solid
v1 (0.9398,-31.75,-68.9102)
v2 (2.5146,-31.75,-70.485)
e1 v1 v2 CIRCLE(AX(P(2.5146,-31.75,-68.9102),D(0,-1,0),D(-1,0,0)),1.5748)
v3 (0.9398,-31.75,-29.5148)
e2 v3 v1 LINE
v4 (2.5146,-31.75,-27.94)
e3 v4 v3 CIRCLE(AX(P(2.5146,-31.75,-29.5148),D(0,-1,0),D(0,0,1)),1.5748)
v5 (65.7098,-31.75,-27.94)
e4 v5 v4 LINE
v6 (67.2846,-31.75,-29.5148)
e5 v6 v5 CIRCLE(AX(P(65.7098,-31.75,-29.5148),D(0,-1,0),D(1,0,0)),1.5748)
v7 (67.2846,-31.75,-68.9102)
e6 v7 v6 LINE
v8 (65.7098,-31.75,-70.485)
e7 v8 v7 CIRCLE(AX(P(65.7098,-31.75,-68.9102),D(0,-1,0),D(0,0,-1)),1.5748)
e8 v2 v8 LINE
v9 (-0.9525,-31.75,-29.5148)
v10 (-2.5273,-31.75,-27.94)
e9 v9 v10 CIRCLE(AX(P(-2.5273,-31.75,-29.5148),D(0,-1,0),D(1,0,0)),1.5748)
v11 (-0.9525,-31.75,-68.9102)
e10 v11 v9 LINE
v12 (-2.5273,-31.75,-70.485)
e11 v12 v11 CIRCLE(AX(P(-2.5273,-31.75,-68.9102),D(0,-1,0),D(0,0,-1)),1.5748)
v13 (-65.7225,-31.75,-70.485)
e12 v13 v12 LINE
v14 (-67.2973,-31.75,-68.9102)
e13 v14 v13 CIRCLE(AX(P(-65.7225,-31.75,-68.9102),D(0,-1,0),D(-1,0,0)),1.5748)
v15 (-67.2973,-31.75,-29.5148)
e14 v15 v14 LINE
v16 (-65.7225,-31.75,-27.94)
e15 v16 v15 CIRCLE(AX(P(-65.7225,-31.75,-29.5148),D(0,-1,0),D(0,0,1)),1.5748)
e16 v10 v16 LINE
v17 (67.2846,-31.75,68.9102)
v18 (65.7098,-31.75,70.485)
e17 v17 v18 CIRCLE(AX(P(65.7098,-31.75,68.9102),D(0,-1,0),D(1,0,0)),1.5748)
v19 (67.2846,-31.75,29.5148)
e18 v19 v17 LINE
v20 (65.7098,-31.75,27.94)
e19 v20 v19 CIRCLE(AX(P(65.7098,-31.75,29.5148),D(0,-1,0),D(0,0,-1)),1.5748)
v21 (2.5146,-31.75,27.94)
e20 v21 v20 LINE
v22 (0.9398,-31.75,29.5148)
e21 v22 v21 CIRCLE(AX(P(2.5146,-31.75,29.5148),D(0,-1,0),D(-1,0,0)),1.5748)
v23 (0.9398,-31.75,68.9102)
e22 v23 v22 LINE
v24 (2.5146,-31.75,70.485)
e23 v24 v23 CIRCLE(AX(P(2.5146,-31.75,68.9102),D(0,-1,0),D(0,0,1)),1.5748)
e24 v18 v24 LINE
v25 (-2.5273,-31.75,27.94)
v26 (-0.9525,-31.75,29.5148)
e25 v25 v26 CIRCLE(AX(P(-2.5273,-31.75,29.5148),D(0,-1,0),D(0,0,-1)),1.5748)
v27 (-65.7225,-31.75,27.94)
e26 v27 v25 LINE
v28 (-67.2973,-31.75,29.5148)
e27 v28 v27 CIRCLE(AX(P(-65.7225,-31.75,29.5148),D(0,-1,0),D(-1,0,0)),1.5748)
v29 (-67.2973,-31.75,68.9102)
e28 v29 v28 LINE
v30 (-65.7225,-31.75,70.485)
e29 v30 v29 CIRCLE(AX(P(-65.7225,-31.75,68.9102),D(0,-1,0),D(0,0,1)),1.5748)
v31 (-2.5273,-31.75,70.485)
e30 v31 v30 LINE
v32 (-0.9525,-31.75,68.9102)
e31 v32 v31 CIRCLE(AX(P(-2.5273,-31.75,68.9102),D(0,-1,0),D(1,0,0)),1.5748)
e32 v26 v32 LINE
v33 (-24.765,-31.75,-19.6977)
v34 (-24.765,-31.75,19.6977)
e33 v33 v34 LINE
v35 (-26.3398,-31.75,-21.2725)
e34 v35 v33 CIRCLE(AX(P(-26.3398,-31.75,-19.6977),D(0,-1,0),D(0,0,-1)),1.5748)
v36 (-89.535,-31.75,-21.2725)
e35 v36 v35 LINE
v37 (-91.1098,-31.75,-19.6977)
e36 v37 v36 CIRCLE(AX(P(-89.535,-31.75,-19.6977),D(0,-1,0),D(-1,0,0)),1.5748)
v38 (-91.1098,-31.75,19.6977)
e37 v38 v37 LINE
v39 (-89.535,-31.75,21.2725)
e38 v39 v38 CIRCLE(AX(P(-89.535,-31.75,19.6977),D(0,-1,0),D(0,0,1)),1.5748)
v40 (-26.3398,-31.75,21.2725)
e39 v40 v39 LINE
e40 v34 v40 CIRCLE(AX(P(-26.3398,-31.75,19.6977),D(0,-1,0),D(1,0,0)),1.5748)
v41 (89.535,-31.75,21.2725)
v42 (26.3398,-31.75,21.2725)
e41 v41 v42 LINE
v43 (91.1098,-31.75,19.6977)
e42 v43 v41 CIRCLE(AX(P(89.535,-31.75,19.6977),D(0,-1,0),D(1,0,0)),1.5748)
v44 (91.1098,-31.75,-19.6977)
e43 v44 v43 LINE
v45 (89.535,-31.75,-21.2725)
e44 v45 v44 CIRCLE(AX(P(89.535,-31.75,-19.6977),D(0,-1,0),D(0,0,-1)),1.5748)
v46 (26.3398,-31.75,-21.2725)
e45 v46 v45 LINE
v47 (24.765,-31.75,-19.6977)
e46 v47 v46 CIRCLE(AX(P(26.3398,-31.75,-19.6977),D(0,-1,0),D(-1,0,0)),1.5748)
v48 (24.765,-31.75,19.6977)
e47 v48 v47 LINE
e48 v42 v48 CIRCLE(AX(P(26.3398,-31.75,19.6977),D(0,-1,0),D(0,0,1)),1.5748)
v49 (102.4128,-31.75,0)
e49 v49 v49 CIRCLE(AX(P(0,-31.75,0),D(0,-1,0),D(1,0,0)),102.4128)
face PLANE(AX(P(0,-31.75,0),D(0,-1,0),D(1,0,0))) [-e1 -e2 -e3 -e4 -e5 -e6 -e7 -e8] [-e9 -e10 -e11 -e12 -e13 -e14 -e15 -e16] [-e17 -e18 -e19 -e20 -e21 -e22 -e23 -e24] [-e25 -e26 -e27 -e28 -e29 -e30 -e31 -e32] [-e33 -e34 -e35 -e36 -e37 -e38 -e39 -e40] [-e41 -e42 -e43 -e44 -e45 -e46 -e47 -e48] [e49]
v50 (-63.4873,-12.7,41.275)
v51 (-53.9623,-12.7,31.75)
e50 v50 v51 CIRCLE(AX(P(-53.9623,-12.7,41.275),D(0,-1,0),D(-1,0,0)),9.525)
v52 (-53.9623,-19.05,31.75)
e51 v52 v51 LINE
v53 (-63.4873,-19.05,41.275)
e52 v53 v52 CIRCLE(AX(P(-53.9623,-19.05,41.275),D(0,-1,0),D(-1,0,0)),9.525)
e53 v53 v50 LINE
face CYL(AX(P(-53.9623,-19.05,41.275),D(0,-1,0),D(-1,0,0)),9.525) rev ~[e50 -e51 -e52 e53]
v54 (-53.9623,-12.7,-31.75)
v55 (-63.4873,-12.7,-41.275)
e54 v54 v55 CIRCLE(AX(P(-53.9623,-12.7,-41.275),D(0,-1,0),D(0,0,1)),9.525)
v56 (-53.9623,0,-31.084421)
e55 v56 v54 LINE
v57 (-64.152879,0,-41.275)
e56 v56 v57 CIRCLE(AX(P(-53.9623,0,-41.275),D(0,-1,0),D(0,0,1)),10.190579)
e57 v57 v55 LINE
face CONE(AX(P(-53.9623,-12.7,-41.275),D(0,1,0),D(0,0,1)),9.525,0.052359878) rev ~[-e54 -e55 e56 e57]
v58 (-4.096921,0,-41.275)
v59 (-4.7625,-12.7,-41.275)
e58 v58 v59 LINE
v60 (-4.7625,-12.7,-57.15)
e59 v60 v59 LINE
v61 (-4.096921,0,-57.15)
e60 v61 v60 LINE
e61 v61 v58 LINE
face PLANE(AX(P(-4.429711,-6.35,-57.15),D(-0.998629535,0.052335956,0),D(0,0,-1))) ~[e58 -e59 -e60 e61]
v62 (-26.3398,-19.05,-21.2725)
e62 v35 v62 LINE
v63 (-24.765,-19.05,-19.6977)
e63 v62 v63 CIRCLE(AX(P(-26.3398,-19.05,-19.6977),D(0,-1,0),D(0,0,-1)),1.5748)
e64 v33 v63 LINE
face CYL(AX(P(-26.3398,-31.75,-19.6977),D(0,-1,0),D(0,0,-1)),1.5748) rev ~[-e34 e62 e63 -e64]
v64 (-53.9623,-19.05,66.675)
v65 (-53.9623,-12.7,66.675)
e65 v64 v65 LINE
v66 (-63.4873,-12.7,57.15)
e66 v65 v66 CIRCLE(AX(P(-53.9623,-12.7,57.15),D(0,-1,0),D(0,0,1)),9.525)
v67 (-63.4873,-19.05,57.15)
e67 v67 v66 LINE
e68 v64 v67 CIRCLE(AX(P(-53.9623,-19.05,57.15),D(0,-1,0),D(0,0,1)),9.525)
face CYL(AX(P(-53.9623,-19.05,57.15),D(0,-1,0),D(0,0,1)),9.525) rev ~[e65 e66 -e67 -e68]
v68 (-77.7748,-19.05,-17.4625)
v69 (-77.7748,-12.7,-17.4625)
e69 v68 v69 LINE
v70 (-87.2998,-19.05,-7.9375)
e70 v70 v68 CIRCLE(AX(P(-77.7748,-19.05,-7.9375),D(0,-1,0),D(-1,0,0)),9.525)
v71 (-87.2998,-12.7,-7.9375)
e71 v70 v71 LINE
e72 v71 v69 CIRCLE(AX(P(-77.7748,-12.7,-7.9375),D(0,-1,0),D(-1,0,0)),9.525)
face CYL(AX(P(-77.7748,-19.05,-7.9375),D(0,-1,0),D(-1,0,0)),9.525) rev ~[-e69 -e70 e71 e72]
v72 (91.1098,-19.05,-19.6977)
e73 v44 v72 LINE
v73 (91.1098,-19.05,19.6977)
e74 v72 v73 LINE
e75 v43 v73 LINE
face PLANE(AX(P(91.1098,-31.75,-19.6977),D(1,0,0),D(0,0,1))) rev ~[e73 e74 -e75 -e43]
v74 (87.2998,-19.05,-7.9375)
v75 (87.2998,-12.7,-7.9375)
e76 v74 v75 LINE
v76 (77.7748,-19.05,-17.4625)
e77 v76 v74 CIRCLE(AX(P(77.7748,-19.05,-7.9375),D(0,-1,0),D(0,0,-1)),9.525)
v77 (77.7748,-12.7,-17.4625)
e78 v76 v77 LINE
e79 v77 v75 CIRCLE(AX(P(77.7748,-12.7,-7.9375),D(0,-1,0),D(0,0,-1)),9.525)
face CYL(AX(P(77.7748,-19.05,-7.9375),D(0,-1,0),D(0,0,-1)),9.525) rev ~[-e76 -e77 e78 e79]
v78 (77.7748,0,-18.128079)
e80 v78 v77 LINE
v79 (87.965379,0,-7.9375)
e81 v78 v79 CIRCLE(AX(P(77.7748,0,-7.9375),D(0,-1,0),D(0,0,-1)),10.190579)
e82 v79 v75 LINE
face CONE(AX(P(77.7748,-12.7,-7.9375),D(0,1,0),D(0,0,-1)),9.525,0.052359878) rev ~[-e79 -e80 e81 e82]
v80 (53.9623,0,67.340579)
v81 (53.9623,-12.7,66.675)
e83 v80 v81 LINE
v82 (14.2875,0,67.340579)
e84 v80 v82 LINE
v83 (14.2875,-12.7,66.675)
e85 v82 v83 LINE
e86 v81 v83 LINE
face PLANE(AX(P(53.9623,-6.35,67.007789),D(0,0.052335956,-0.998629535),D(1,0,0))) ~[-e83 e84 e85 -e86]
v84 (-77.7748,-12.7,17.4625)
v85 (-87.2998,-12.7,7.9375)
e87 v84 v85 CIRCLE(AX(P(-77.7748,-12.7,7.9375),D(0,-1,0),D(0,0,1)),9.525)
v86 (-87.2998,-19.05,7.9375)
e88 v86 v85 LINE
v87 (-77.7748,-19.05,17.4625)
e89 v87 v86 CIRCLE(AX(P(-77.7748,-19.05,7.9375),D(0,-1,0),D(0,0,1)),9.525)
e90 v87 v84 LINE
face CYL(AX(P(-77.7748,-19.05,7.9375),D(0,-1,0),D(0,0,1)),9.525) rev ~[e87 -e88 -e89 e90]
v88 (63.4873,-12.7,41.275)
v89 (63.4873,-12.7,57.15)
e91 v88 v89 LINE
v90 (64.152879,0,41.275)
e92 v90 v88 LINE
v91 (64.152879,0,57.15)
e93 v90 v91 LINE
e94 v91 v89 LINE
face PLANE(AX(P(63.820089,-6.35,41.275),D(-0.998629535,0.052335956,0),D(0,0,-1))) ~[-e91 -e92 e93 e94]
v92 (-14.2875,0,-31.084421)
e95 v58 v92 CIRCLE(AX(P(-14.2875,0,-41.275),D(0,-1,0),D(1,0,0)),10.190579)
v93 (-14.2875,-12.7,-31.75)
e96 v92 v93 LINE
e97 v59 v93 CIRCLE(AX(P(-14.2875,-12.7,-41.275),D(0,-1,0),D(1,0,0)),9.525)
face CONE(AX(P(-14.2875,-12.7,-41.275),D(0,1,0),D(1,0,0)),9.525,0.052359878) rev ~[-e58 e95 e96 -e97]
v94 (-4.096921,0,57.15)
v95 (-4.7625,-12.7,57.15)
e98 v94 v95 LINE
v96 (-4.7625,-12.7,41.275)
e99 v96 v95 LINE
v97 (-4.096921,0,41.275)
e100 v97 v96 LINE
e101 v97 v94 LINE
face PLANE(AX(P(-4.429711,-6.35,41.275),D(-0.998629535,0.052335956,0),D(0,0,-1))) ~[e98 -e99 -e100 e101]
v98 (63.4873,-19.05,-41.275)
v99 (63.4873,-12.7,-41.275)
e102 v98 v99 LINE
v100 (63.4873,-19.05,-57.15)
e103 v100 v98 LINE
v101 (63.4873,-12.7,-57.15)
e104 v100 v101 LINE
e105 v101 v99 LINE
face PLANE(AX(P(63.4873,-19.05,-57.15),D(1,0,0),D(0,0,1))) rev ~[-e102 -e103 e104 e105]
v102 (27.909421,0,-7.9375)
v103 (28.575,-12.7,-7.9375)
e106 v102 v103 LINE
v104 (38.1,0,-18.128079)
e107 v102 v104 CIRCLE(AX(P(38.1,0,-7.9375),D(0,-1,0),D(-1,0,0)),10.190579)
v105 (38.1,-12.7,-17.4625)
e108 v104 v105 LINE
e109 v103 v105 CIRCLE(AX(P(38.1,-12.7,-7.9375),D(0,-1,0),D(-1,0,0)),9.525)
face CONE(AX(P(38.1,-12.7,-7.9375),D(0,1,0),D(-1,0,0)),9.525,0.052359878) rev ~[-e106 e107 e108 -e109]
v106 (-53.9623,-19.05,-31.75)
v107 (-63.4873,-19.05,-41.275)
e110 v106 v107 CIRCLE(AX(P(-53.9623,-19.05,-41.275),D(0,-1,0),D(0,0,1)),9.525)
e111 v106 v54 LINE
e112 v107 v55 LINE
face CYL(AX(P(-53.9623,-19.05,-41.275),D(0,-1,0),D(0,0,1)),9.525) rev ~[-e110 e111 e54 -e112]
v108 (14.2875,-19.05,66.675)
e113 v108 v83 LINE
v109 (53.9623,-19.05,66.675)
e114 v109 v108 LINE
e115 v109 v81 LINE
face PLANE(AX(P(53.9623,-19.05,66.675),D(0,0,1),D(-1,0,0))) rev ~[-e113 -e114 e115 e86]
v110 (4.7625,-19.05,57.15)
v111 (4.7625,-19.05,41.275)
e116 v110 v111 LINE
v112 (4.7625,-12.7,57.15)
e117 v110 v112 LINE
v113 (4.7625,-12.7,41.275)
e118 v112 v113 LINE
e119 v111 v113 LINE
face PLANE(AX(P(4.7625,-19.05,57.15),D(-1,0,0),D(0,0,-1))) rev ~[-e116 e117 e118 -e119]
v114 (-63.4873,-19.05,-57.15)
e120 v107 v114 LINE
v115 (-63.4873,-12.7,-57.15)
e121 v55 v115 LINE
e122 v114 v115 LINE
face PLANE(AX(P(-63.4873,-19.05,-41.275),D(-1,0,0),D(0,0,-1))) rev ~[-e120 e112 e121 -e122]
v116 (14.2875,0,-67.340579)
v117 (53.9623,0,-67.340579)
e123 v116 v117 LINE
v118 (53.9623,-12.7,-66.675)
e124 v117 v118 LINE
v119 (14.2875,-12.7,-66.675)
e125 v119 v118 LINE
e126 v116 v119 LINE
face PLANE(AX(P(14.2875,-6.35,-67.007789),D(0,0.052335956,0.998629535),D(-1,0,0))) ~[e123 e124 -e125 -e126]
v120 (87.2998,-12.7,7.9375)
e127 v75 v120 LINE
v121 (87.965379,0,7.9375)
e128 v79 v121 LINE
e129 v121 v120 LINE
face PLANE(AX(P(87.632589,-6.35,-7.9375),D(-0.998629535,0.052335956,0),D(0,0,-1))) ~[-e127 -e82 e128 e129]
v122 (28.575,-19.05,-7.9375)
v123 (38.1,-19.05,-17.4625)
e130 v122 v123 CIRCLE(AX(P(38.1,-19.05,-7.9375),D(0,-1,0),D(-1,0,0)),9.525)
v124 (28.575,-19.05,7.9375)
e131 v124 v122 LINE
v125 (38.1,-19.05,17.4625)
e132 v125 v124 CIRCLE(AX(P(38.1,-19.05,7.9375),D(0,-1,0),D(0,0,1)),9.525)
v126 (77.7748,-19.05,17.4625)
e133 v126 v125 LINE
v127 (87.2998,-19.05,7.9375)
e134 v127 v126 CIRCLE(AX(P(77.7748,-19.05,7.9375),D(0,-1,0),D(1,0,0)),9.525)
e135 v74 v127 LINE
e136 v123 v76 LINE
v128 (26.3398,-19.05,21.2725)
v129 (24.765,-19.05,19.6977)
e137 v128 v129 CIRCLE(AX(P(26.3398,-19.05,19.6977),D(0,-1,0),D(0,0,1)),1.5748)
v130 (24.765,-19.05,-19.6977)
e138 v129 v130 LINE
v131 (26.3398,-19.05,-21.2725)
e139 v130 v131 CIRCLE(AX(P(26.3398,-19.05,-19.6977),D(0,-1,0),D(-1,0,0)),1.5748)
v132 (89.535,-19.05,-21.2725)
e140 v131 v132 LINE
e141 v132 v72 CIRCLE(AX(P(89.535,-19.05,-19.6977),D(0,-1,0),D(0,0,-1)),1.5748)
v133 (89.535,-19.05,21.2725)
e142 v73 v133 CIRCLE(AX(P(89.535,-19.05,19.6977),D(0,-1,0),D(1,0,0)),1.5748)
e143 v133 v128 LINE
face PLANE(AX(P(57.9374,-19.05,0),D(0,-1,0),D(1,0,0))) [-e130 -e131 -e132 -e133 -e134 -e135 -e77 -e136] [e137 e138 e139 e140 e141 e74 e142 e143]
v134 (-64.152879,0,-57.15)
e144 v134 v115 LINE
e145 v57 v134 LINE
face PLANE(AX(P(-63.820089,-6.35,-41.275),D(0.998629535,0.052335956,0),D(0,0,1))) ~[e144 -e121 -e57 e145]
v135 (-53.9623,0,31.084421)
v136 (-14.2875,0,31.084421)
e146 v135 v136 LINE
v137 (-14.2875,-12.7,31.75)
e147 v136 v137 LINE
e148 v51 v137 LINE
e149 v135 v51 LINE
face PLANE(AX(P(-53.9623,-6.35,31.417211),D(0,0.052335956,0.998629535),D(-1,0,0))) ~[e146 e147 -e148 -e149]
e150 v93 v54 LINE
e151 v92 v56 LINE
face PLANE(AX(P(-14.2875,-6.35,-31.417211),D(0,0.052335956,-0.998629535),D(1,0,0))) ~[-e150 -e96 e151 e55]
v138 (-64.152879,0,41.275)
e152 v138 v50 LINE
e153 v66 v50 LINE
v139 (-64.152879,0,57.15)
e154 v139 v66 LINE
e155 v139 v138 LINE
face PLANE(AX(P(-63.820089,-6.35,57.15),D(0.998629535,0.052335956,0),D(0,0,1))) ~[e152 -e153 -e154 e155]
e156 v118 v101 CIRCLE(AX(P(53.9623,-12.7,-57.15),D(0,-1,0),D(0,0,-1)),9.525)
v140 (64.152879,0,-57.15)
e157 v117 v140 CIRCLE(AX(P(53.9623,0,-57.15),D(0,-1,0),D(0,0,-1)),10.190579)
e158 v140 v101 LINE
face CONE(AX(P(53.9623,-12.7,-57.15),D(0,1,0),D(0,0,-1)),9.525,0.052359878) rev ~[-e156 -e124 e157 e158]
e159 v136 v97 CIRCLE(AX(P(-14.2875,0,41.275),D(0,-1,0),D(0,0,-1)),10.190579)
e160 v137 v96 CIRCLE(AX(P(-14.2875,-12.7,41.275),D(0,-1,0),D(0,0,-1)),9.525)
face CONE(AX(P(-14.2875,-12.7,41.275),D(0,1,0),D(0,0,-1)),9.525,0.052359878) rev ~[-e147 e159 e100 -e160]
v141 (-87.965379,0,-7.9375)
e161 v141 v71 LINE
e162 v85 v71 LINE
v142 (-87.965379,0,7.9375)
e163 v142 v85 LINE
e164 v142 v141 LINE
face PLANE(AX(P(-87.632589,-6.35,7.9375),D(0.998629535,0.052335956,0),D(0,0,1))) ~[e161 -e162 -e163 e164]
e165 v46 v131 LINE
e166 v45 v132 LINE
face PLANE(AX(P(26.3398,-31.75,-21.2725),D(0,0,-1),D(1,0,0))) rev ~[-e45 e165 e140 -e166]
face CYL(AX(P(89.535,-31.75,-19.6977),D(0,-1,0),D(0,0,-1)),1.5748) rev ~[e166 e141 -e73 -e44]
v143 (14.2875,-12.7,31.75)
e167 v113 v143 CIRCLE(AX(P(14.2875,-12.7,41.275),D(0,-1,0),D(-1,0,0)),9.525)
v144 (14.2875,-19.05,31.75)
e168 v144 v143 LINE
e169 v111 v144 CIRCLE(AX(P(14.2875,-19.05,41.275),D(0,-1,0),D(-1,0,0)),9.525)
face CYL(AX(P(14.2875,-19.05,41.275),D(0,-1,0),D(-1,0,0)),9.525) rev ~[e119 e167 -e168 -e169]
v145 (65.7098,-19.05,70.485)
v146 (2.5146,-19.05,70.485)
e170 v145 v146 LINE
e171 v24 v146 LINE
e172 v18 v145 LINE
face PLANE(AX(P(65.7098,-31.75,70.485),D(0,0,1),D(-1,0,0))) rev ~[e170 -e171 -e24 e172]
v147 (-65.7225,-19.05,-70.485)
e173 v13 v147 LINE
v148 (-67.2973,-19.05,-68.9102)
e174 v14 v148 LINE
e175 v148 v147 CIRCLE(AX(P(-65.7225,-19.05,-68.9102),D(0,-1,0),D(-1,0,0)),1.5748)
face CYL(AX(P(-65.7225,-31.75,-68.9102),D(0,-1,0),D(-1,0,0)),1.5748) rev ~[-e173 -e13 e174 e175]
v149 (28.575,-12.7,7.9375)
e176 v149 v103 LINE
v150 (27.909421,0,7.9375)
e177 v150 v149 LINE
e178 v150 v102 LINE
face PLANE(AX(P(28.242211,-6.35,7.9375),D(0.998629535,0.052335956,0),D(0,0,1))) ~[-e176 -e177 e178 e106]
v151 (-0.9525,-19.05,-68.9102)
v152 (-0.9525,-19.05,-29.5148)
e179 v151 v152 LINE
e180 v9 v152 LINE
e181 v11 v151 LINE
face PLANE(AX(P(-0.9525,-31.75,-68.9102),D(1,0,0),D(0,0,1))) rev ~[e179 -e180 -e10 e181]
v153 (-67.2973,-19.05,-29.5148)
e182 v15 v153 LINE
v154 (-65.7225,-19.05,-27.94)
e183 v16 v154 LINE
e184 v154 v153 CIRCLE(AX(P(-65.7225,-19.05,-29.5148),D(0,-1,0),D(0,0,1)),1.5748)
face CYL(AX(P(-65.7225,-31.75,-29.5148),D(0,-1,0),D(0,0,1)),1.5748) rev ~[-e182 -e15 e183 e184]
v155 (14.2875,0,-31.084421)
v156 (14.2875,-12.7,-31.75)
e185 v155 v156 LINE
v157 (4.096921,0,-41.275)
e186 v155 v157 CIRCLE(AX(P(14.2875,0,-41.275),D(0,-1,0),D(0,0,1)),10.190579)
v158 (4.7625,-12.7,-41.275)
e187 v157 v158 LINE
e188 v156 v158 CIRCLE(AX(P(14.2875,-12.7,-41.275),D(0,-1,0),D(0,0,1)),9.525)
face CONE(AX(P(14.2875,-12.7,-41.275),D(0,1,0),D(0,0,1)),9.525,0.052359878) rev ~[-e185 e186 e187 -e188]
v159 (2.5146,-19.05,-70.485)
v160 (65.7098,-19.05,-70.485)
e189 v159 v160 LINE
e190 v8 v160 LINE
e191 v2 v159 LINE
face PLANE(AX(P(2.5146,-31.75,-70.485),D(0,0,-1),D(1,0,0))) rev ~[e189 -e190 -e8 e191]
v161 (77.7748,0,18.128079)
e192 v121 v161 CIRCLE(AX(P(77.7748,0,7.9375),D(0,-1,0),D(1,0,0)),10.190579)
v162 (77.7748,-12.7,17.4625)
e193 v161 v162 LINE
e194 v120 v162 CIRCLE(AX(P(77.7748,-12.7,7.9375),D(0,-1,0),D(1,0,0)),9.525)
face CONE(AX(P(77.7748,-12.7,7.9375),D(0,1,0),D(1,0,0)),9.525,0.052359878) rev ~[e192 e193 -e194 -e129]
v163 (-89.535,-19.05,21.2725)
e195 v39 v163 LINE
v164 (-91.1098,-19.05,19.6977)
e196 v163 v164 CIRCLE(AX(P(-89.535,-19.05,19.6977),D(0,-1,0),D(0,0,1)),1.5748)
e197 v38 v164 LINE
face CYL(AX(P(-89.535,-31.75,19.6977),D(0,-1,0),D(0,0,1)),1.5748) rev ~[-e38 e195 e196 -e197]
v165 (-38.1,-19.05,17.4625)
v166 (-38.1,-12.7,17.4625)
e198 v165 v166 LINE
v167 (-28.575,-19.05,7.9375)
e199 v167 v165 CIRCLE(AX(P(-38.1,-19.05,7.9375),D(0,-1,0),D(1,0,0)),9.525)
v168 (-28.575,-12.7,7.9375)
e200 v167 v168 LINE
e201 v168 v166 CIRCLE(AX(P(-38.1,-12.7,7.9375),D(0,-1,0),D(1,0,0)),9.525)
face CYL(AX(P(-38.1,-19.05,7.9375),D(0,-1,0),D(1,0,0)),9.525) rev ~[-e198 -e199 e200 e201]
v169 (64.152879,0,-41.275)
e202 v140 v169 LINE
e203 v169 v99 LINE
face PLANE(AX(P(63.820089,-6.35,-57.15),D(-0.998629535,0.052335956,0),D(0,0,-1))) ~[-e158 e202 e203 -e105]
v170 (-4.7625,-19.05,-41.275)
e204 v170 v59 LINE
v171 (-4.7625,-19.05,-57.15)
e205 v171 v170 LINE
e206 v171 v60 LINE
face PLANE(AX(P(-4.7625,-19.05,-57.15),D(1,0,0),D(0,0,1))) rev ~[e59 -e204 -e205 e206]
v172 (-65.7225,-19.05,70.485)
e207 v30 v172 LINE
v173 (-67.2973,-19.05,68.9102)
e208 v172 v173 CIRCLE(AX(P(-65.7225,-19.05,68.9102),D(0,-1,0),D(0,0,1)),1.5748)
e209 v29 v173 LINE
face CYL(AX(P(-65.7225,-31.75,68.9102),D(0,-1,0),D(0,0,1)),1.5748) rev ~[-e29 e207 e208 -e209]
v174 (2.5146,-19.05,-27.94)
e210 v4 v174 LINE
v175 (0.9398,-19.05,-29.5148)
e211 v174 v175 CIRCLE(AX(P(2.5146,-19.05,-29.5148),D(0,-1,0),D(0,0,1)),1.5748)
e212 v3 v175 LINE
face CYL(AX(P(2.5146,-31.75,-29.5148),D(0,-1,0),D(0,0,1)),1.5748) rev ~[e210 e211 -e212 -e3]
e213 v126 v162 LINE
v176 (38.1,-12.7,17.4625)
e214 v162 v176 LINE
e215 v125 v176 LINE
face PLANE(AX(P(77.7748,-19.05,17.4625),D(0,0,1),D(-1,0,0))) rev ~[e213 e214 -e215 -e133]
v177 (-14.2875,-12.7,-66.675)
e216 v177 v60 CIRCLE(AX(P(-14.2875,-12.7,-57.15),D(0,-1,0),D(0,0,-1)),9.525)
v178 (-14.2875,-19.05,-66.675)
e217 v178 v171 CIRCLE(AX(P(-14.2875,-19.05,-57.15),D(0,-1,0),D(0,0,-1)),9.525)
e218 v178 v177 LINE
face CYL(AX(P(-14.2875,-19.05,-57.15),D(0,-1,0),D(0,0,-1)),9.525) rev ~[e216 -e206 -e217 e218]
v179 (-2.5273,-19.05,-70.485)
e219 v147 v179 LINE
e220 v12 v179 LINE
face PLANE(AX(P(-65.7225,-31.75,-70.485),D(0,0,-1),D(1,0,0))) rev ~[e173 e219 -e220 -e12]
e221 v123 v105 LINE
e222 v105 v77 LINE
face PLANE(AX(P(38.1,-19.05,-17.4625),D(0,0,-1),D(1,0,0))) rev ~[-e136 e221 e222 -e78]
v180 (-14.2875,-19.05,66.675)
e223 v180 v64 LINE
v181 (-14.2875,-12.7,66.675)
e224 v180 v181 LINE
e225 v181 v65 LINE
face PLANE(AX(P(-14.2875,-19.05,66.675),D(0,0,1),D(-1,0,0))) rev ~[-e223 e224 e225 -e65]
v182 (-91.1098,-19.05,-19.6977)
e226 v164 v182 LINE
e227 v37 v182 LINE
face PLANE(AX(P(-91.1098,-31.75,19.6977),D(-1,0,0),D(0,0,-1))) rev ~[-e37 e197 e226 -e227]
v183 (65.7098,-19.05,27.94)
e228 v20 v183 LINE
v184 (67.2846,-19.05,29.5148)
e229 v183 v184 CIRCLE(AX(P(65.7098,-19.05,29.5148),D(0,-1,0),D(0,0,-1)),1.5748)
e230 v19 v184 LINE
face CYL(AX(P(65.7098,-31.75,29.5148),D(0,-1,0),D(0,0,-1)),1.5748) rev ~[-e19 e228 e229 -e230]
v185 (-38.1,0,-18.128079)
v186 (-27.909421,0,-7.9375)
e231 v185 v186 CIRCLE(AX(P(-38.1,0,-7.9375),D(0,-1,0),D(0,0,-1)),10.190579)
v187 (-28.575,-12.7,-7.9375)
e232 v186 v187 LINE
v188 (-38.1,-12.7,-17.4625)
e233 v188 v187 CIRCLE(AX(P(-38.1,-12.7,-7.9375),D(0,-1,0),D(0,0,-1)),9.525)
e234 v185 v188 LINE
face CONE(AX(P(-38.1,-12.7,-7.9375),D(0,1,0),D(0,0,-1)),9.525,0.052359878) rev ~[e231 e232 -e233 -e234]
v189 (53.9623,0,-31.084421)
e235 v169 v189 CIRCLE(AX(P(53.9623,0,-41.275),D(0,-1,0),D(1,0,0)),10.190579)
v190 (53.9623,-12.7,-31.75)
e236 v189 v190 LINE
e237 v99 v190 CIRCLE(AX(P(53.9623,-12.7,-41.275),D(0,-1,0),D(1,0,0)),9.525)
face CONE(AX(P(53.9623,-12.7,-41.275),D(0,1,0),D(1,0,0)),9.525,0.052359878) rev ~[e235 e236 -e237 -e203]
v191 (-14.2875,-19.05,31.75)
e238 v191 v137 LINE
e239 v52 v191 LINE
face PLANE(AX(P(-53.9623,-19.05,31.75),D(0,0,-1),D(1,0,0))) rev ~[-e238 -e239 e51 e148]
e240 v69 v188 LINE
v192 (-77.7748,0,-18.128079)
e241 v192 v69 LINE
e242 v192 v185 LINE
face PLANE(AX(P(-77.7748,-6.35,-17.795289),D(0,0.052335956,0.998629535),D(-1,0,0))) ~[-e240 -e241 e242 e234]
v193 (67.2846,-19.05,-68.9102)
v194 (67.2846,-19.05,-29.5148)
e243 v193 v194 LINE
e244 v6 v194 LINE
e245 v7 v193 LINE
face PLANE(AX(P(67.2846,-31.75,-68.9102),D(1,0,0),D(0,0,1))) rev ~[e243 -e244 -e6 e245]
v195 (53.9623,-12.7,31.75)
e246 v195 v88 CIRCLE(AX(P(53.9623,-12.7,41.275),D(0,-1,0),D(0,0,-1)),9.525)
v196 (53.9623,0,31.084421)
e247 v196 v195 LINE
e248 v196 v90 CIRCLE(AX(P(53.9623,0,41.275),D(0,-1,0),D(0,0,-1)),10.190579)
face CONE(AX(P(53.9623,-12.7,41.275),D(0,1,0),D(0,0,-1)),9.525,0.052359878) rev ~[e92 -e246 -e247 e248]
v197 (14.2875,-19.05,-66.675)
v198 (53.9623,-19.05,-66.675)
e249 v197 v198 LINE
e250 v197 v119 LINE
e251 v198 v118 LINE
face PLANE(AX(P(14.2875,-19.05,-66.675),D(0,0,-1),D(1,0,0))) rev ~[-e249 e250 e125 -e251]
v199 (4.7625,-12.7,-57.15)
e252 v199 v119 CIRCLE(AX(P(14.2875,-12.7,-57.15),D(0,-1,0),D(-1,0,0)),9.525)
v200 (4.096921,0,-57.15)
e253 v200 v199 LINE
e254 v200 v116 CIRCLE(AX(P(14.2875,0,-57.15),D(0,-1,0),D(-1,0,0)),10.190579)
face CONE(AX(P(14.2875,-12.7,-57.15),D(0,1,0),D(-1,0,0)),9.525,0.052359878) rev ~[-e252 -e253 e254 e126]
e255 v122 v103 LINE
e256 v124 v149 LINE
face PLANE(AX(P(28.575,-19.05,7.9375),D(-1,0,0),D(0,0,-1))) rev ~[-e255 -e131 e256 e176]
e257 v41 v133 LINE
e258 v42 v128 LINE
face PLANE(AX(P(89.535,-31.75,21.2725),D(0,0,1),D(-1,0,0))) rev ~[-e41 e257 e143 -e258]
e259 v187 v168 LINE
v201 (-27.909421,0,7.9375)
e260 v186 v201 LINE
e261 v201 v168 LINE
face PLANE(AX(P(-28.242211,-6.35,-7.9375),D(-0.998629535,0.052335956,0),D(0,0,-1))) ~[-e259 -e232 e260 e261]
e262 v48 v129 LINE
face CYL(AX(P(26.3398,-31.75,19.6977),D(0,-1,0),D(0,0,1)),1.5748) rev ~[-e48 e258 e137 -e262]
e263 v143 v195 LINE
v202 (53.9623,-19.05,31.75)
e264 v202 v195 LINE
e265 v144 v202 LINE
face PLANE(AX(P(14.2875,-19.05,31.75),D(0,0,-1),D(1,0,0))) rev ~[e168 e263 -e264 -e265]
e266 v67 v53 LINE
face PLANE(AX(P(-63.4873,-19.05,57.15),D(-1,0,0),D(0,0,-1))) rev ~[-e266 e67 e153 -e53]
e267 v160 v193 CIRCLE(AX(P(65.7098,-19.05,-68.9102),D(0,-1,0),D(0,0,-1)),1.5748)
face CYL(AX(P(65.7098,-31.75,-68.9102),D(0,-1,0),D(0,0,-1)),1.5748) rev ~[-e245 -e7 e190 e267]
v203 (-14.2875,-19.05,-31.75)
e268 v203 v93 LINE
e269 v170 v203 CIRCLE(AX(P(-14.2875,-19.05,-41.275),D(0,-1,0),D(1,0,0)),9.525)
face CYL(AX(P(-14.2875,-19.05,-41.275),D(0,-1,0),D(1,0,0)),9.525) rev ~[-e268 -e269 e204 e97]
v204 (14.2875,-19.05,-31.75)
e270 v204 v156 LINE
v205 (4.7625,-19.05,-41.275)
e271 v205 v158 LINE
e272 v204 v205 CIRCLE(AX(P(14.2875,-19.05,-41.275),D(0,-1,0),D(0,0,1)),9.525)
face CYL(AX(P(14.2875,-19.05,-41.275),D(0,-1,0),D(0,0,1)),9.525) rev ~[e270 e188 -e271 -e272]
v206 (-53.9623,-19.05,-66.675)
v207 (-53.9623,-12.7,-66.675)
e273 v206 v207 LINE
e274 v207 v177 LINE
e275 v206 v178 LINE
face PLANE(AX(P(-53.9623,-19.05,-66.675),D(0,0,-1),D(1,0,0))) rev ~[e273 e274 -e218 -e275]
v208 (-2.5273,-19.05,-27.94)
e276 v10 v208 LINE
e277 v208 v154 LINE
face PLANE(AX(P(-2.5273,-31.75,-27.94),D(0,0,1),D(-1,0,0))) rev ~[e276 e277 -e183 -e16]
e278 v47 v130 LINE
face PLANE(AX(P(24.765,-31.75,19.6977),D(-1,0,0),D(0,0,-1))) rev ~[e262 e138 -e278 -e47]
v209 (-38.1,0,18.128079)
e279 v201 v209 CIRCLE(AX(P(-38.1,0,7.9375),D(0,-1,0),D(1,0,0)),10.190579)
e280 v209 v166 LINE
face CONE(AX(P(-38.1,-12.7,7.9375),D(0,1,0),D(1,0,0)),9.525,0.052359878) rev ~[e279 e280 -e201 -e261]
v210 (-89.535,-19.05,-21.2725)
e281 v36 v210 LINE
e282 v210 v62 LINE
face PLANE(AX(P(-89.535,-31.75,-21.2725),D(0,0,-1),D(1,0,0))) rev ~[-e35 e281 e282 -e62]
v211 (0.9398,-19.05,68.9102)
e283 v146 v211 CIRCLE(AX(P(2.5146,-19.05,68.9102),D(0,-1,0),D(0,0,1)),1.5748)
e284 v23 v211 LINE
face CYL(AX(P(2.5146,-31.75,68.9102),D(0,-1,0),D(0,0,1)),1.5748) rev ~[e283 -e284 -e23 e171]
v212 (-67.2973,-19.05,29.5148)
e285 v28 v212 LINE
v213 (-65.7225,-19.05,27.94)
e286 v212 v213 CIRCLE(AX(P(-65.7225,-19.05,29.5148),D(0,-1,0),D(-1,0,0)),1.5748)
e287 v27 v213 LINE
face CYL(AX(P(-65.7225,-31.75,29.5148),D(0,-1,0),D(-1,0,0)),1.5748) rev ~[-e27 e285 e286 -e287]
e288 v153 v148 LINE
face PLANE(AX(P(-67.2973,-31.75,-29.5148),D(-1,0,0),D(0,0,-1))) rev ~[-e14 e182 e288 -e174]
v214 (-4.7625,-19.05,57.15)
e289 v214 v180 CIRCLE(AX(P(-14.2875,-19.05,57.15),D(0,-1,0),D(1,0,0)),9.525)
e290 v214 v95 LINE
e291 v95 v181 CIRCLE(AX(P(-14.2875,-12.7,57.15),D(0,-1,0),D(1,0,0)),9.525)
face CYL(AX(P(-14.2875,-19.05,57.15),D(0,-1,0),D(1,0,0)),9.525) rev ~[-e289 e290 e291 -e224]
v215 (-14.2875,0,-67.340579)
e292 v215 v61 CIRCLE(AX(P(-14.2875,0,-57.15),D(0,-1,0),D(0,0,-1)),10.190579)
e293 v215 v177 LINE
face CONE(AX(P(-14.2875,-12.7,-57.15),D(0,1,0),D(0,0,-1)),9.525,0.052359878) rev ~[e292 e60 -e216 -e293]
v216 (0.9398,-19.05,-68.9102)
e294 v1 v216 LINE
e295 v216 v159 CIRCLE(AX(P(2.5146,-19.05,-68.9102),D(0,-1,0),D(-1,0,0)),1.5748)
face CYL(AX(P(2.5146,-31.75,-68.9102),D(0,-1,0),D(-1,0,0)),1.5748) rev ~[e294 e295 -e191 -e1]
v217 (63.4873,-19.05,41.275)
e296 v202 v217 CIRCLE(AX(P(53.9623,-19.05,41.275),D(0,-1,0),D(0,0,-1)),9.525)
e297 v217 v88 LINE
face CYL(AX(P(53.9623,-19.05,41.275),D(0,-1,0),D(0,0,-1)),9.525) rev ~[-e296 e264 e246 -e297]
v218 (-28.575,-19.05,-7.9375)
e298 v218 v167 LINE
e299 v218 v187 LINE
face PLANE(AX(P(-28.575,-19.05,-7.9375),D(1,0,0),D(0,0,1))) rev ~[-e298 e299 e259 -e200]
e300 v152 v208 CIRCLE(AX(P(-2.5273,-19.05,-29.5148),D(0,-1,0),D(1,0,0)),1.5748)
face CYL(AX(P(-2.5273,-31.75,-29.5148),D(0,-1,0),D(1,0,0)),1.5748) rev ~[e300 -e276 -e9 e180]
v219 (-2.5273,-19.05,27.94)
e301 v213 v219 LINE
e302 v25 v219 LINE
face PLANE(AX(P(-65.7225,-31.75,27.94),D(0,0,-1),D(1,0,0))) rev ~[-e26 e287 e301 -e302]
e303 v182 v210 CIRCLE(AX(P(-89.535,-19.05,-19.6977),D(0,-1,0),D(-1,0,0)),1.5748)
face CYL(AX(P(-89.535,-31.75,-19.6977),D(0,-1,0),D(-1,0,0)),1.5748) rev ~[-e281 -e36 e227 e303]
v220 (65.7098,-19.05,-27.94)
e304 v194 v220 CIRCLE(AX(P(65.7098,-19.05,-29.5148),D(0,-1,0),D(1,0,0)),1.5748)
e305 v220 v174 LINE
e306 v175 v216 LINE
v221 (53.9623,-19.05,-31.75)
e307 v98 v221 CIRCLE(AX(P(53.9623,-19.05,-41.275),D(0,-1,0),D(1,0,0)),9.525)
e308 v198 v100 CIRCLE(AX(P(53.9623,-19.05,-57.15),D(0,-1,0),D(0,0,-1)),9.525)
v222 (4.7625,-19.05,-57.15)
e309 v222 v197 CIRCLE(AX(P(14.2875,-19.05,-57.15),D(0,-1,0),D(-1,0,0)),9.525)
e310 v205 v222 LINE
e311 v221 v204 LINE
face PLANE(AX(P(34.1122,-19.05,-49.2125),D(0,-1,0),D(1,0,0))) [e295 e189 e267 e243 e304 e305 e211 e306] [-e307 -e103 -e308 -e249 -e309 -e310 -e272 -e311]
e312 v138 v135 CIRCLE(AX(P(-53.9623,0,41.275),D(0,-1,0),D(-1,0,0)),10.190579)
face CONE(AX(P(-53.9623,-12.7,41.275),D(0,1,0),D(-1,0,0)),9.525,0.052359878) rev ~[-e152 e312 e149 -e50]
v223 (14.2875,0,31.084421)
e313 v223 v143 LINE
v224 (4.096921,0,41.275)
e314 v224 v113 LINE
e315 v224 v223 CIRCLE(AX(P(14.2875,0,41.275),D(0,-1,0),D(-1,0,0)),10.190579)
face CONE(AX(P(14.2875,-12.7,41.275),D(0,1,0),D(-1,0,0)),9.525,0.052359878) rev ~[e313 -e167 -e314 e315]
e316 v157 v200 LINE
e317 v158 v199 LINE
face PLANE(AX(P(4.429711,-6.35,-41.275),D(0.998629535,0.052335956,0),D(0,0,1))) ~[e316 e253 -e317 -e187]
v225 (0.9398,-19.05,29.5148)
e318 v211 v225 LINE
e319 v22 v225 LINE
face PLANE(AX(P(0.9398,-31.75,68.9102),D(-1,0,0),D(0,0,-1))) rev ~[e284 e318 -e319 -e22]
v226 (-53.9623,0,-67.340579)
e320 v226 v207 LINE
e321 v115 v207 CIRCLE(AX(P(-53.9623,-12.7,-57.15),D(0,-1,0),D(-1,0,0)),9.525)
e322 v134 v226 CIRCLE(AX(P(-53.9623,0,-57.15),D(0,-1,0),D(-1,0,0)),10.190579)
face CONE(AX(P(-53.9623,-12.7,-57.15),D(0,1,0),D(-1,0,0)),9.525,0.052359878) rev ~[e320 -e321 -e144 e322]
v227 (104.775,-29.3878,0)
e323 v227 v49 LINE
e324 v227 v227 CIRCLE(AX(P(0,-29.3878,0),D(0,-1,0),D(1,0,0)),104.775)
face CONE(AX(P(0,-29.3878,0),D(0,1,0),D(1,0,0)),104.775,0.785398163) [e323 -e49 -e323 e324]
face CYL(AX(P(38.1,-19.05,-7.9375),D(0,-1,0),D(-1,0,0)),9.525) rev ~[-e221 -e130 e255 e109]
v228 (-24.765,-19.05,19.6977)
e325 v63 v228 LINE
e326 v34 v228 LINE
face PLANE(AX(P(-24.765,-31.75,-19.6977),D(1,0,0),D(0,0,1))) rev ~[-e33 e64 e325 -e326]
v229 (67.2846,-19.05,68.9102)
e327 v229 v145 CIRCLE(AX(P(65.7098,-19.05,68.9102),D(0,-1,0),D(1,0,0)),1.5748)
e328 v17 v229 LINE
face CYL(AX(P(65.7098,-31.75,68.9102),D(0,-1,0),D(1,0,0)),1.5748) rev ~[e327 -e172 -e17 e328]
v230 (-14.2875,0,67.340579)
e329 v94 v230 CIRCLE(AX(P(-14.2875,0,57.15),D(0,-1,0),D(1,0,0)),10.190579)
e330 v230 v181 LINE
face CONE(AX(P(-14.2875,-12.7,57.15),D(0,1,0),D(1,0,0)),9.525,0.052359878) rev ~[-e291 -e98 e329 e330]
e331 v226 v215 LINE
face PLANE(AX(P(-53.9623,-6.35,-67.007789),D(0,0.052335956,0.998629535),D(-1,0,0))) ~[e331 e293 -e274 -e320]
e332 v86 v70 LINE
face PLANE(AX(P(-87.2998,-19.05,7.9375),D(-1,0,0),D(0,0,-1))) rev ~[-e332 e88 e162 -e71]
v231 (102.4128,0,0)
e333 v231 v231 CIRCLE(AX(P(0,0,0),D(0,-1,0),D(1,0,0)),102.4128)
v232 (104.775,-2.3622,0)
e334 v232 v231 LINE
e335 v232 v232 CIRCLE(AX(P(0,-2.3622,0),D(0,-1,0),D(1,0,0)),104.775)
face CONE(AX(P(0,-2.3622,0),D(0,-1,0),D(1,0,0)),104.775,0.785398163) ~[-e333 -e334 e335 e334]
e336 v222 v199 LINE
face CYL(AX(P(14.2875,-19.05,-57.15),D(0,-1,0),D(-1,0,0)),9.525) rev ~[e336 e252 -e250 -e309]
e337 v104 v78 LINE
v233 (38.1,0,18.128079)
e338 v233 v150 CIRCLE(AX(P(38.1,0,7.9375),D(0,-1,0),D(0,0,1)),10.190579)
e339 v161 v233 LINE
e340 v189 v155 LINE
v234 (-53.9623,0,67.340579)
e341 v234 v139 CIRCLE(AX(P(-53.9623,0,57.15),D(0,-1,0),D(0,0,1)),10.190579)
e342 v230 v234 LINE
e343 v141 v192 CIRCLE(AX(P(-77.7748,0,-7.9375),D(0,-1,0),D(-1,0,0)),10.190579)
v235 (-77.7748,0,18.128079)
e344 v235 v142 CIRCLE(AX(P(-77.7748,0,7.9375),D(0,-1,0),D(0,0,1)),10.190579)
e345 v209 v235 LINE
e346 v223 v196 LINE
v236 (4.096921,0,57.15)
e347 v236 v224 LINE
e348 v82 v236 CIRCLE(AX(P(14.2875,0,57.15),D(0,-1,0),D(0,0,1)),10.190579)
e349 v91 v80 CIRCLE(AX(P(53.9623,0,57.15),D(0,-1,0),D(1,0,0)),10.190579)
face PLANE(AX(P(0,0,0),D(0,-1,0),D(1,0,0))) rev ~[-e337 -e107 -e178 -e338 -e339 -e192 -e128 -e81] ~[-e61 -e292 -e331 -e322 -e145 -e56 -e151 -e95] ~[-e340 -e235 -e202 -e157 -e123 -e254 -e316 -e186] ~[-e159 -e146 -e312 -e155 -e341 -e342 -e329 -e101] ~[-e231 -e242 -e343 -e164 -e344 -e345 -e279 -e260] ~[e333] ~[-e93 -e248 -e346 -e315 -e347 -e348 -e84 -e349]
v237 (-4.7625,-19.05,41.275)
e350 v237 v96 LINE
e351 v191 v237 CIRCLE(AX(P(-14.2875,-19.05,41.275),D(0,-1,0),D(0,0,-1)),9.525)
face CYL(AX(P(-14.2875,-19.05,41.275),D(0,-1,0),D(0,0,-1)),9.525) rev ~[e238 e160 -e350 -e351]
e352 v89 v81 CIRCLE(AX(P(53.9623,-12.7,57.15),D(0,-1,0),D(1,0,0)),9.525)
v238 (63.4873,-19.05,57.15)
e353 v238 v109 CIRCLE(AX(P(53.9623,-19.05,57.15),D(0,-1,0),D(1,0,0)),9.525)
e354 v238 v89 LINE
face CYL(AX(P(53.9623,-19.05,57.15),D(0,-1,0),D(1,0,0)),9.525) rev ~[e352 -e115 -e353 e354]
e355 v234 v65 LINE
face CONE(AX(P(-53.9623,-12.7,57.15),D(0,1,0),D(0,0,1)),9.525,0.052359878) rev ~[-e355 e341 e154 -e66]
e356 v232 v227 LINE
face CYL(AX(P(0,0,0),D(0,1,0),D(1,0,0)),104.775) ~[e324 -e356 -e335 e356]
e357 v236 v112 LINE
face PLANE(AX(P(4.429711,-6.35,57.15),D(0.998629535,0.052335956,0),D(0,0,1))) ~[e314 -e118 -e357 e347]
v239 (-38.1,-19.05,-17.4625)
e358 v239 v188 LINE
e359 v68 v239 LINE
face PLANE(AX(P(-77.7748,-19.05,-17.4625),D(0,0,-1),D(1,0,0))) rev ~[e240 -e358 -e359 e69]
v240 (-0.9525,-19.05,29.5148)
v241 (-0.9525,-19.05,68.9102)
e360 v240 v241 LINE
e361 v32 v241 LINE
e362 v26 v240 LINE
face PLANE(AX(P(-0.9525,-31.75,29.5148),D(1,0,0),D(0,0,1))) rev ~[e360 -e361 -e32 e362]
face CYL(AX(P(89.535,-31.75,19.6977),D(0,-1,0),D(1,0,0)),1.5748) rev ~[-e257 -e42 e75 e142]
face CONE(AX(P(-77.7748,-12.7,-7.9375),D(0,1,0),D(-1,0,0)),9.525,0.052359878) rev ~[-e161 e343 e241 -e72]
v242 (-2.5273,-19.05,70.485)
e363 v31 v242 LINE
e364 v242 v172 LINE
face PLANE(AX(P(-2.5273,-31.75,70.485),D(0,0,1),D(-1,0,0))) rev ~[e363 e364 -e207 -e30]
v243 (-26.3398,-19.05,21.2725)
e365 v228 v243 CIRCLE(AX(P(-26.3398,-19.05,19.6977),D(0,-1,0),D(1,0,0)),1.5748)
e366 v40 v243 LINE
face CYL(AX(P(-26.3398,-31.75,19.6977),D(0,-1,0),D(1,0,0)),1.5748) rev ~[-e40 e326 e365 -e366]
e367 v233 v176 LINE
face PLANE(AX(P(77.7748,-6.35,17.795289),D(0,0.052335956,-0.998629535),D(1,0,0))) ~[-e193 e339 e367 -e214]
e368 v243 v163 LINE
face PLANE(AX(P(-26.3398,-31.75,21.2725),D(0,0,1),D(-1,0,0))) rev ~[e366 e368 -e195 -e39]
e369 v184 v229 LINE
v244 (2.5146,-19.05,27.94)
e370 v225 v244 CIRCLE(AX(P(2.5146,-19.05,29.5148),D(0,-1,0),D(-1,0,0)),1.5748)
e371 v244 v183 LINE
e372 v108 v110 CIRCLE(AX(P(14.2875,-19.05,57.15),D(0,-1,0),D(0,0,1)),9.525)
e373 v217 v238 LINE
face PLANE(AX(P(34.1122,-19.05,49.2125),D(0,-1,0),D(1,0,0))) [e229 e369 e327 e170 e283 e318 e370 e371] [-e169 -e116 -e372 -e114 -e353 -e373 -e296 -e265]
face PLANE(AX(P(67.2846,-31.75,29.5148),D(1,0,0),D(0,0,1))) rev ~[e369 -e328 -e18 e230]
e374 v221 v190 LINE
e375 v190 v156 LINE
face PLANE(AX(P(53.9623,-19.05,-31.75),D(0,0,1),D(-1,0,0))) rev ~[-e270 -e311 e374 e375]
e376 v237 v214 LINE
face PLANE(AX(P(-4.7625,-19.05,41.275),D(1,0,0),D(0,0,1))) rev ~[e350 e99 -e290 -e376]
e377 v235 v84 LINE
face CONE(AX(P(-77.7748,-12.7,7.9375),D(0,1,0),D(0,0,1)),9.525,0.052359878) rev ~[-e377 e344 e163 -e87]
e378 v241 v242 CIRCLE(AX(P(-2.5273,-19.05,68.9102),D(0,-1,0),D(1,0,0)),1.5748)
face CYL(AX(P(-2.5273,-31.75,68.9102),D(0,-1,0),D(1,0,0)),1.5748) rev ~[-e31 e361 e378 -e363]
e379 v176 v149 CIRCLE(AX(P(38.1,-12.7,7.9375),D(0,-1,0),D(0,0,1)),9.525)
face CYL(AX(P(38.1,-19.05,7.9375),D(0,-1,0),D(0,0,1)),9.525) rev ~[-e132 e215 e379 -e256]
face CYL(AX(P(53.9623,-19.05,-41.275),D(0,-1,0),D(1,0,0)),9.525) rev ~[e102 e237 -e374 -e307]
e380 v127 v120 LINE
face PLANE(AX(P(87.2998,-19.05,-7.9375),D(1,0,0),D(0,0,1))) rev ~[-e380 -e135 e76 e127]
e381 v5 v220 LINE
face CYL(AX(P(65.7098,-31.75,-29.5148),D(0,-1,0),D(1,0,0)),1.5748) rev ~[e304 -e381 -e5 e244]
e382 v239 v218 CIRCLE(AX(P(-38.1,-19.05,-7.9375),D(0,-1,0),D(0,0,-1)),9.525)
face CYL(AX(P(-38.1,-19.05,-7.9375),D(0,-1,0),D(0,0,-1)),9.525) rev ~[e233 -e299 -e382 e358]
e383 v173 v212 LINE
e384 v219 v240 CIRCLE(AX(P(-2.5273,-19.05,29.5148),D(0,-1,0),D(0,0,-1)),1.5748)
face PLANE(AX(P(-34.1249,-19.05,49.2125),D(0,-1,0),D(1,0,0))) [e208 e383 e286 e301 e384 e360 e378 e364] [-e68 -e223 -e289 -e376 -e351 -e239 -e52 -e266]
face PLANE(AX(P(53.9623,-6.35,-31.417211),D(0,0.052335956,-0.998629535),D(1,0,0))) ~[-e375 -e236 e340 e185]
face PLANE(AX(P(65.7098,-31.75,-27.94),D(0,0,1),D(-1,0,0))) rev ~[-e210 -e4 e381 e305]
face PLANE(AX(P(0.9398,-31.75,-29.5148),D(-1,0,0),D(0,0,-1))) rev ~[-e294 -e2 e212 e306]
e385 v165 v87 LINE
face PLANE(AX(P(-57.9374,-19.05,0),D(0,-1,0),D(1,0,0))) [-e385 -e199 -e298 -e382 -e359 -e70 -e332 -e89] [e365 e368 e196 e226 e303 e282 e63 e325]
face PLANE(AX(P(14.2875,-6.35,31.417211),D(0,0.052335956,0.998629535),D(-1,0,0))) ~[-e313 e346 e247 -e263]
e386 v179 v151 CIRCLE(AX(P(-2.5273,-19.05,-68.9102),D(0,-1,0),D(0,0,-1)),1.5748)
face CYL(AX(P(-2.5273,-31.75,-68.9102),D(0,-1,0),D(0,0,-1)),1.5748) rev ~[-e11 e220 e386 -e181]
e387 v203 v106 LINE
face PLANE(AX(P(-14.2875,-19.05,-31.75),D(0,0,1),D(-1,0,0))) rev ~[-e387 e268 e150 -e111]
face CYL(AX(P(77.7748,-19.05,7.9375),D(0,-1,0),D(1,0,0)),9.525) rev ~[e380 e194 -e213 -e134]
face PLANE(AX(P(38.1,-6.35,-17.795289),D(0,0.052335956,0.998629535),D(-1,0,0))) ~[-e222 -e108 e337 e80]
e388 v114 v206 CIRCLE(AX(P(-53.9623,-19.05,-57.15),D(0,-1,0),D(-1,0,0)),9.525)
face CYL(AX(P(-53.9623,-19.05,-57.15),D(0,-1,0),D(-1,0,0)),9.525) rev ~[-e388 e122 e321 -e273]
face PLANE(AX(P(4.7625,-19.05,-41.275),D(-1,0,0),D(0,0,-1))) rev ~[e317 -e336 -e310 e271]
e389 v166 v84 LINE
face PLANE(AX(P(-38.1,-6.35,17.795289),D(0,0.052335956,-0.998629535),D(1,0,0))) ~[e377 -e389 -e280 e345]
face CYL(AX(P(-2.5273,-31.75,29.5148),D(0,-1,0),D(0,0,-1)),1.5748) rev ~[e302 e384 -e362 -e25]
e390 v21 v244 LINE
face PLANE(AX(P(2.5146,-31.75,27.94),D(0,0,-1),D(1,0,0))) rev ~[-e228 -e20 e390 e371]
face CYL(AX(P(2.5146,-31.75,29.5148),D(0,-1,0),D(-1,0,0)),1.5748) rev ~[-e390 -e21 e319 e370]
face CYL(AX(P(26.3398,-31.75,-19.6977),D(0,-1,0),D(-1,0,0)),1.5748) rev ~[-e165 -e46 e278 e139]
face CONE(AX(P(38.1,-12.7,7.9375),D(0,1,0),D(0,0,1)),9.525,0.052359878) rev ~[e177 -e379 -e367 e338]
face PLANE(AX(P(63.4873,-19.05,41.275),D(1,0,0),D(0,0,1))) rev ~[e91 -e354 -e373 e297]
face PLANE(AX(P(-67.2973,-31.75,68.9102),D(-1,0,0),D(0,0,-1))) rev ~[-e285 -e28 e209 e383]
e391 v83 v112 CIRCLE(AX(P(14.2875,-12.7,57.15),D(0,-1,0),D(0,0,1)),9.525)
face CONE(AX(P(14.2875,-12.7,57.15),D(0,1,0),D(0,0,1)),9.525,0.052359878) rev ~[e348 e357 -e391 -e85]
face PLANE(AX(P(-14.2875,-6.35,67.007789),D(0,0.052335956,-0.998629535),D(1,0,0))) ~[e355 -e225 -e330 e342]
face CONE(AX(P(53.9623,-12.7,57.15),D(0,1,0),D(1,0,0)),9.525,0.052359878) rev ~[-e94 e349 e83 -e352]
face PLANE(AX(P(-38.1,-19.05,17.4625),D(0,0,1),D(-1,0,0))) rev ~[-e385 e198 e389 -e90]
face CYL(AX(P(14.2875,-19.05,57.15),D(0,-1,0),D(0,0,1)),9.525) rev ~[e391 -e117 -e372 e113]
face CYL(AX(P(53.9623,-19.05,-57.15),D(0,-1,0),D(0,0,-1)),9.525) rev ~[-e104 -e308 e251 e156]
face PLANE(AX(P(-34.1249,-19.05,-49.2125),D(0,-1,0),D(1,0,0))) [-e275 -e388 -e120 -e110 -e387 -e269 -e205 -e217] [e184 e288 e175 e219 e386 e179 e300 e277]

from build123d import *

# Parameters (mm, degrees)
F0_R     = 104.775
F1_DEPTH = 31.75
F2_SIZE  = 2.3622
F3_SIZE  = 2.3622
F5_DEPTH = 12.7
F7_DEPTH = 19.051
F8_SIZE2 = 12.7
F8_SIZE  = 0.6655787969


with BuildPart() as f1:
    # F0 (on Front) → F1 (new body)
    with BuildSketch(Plane.XZ):
        Circle(F0_R)
    extrude(amount=F1_DEPTH)

    # F2
    f2_edges = [f1.edges().sort_by_distance(p)[0] for p in [
        (-104.775, -31.75, 0),
    ]]
    chamfer(f2_edges, length=F2_SIZE)

    # F3
    f3_edges = [f1.edges().sort_by_distance(p)[0] for p in [
        (-104.775, 0, 0),
    ]]
    chamfer(f3_edges, length=F3_SIZE)

    # F4 (on face) → F5 (cut)
    with BuildSketch(Plane.XZ.offset(31.75)):
        with BuildLine():
            ThreePointArc((-24.765, 19.6977), (-25.226248241, 20.811251759), (-26.3398, 21.2725))
            Line((-26.3398, 21.2725), (-89.535, 21.2725))
            ThreePointArc((-89.535, 21.2725), (-90.648551759, 20.811251759), (-91.1098, 19.6977))
            Line((-91.1098, 19.6977), (-91.1098, -19.6977))
            ThreePointArc((-91.1098, -19.6977), (-90.648551759, -20.811251759), (-89.535, -21.2725))
            Line((-89.535, -21.2725), (-26.3398, -21.2725))
            ThreePointArc((-26.3398, -21.2725), (-25.226248241, -20.811251759), (-24.765, -19.6977))
            Line((-24.765, -19.6977), (-24.765, 19.6977))
        make_face()
        with BuildLine():
            ThreePointArc((91.1098, 19.6977), (90.648551759, 20.811251759), (89.535, 21.2725))
            Line((89.535, 21.2725), (26.3398, 21.2725))
            ThreePointArc((26.3398, 21.2725), (25.226248241, 20.811251759), (24.765, 19.6977))
            Line((24.765, 19.6977), (24.765, -19.6977))
            ThreePointArc((24.765, -19.6977), (25.226248241, -20.811251759), (26.3398, -21.2725))
            Line((26.3398, -21.2725), (89.535, -21.2725))
            ThreePointArc((89.535, -21.2725), (90.648551759, -20.811251759), (91.1098, -19.6977))
            Line((91.1098, -19.6977), (91.1098, 19.6977))
        make_face()
        with BuildLine():
            ThreePointArc((-0.9525, 68.9102), (-1.413748241, 70.023751759), (-2.5273, 70.485))
            Line((-2.5273, 70.485), (-65.7225, 70.485))
            ThreePointArc((-65.7225, 70.485), (-66.836051759, 70.023751759), (-67.2973, 68.9102))
            Line((-67.2973, 68.9102), (-67.2973, 29.5148))
            ThreePointArc((-67.2973, 29.5148), (-66.836051759, 28.401248241), (-65.7225, 27.94))
            Line((-65.7225, 27.94), (-2.5273, 27.94))
            ThreePointArc((-2.5273, 27.94), (-1.413748241, 28.401248241), (-0.9525, 29.5148))
            Line((-0.9525, 29.5148), (-0.9525, 68.9102))
        make_face()
        with BuildLine():
            Line((65.7098, 70.485), (2.5146, 70.485))
            ThreePointArc((2.5146, 70.485), (1.401048241, 70.023751759), (0.9398, 68.9102))
            Line((0.9398, 68.9102), (0.9398, 29.5148))
            ThreePointArc((0.9398, 29.5148), (1.401048241, 28.401248241), (2.5146, 27.94))
            Line((2.5146, 27.94), (65.7098, 27.94))
            ThreePointArc((65.7098, 27.94), (66.823351759, 28.401248241), (67.2846, 29.5148))
            Line((67.2846, 29.5148), (67.2846, 68.9102))
            ThreePointArc((67.2846, 68.9102), (66.823351759, 70.023751759), (65.7098, 70.485))
        make_face()
        with BuildLine():
            ThreePointArc((-0.9525, -29.5148), (-1.413748241, -28.401248241), (-2.5273, -27.94))
            Line((-2.5273, -27.94), (-65.7225, -27.94))
            ThreePointArc((-65.7225, -27.94), (-66.836051759, -28.401248241), (-67.2973, -29.5148))
            Line((-67.2973, -29.5148), (-67.2973, -68.9102))
            ThreePointArc((-67.2973, -68.9102), (-66.836051759, -70.023751759), (-65.7225, -70.485))
            Line((-65.7225, -70.485), (-2.5273, -70.485))
            ThreePointArc((-2.5273, -70.485), (-1.413748241, -70.023751759), (-0.9525, -68.9102))
            Line((-0.9525, -68.9102), (-0.9525, -29.5148))
        make_face()
        with BuildLine():
            Line((65.7098, -27.94), (2.5146, -27.94))
            ThreePointArc((2.5146, -27.94), (1.401048241, -28.401248241), (0.9398, -29.5148))
            Line((0.9398, -29.5148), (0.9398, -68.9102))
            ThreePointArc((0.9398, -68.9102), (1.401048241, -70.023751759), (2.5146, -70.485))
            Line((2.5146, -70.485), (65.7098, -70.485))
            ThreePointArc((65.7098, -70.485), (66.823351759, -70.023751759), (67.2846, -68.9102))
            Line((67.2846, -68.9102), (67.2846, -29.5148))
            ThreePointArc((67.2846, -29.5148), (66.823351759, -28.401248241), (65.7098, -27.94))
        make_face()
    extrude(amount=-F5_DEPTH, mode=Mode.SUBTRACT)

    # F6 (on face) → F7 (cut, through all)
    with BuildSketch(Plane.XZ.offset(19.05)):
        with BuildLine():
            ThreePointArc((-4.7625, 57.15), (-7.5523079092, 63.8851920908), (-14.2875, 66.675))
            Line((-14.2875, 66.675), (-53.9623, 66.675))
            ThreePointArc((-53.9623, 66.675), (-60.6974920908, 63.8851920908), (-63.4873, 57.15))
            Line((-63.4873, 57.15), (-63.4873, 41.275))
            ThreePointArc((-63.4873, 41.275), (-60.6974920908, 34.5398079092), (-53.9623, 31.75))
            Line((-53.9623, 31.75), (-14.2875, 31.75))
            ThreePointArc((-14.2875, 31.75), (-7.5523079092, 34.5398079092), (-4.7625, 41.275))
            Line((-4.7625, 41.275), (-4.7625, 57.15))
        make_face()
        with BuildLine():
            ThreePointArc((53.9623, 31.75), (60.6974920908, 34.5398079092), (63.4873, 41.275))
            Line((63.4873, 41.275), (63.4873, 57.15))
            ThreePointArc((63.4873, 57.15), (60.6974920908, 63.8851920908), (53.9623, 66.675))
            Line((53.9623, 66.675), (14.2875, 66.675))
            ThreePointArc((14.2875, 66.675), (7.5523079092, 63.8851920908), (4.7625, 57.15))
            Line((4.7625, 57.15), (4.7625, 41.275))
            ThreePointArc((4.7625, 41.275), (7.5523079092, 34.5398079092), (14.2875, 31.75))
            Line((14.2875, 31.75), (53.9623, 31.75))
        make_face()
        with BuildLine():
            ThreePointArc((4.7625, -57.15), (7.5523079092, -63.8851920908), (14.2875, -66.675))
            Line((14.2875, -66.675), (53.9623, -66.675))
            ThreePointArc((53.9623, -66.675), (60.6974920908, -63.8851920908), (63.4873, -57.15))
            Line((63.4873, -57.15), (63.4873, -41.275))
            ThreePointArc((63.4873, -41.275), (60.6974920908, -34.5398079092), (53.9623, -31.75))
            Line((53.9623, -31.75), (14.2875, -31.75))
            ThreePointArc((14.2875, -31.75), (7.5523079092, -34.5398079092), (4.7625, -41.275))
            Line((4.7625, -41.275), (4.7625, -57.15))
        make_face()
        with BuildLine():
            ThreePointArc((-63.4873, -57.15), (-60.6974920908, -63.8851920908), (-53.9623, -66.675))
            Line((-53.9623, -66.675), (-14.2875, -66.675))
            ThreePointArc((-14.2875, -66.675), (-7.5523079092, -63.8851920908), (-4.7625, -57.15))
            Line((-4.7625, -57.15), (-4.7625, -41.275))
            ThreePointArc((-4.7625, -41.275), (-7.5523079092, -34.5398079092), (-14.2875, -31.75))
            Line((-14.2875, -31.75), (-53.9623, -31.75))
            ThreePointArc((-53.9623, -31.75), (-60.6974920908, -34.5398079092), (-63.4873, -41.275))
            Line((-63.4873, -41.275), (-63.4873, -57.15))
        make_face()
        with BuildLine():
            ThreePointArc((-28.575, 7.9375), (-31.3648079092, 14.6726920908), (-38.1, 17.4625))
            Line((-38.1, 17.4625), (-77.7748, 17.4625))
            ThreePointArc((-77.7748, 17.4625), (-84.5099920908, 14.6726920908), (-87.2998, 7.9375))
            Line((-87.2998, 7.9375), (-87.2998, -7.9375))
            ThreePointArc((-87.2998, -7.9375), (-84.5099920908, -14.6726920908), (-77.7748, -17.4625))
            Line((-77.7748, -17.4625), (-38.1, -17.4625))
            ThreePointArc((-38.1, -17.4625), (-31.3648079092, -14.6726920908), (-28.575, -7.9375))
            Line((-28.575, -7.9375), (-28.575, 7.9375))
        make_face()
        with BuildLine():
            Line((77.7748, 17.4625), (38.1, 17.4625))
            ThreePointArc((38.1, 17.4625), (31.3648079092, 14.6726920908), (28.575, 7.9375))
            Line((28.575, 7.9375), (28.575, -7.9375))
            ThreePointArc((28.575, -7.9375), (31.3648079092, -14.6726920908), (38.1, -17.4625))
            Line((38.1, -17.4625), (77.7748, -17.4625))
            ThreePointArc((77.7748, -17.4625), (84.5099920908, -14.6726920908), (87.2998, -7.9375))
            Line((87.2998, -7.9375), (87.2998, 7.9375))
            ThreePointArc((87.2998, 7.9375), (84.5099920908, 14.6726920908), (77.7748, 17.4625))
        make_face()
    extrude(amount=-F7_DEPTH, mode=Mode.SUBTRACT)

    # F8
    f8_edges = [f1.edges().sort_by_distance(p)[0] for p in [
        (34.1249, 0, 66.675),
        (-34.1249, 0, 66.675),
        (-57.9374, 0, 17.4625),
        (57.9374, 0, 17.4625),
        (34.1249, 0, -31.75),
        (-34.1249, 0, -31.75),
    ]]
    f8_side = f1.faces().sort_by_distance((0, 0, 0))[0]
    chamfer(f8_edges, length=F8_SIZE, length2=F8_SIZE2, reference=f8_side)


solid = f1.part
